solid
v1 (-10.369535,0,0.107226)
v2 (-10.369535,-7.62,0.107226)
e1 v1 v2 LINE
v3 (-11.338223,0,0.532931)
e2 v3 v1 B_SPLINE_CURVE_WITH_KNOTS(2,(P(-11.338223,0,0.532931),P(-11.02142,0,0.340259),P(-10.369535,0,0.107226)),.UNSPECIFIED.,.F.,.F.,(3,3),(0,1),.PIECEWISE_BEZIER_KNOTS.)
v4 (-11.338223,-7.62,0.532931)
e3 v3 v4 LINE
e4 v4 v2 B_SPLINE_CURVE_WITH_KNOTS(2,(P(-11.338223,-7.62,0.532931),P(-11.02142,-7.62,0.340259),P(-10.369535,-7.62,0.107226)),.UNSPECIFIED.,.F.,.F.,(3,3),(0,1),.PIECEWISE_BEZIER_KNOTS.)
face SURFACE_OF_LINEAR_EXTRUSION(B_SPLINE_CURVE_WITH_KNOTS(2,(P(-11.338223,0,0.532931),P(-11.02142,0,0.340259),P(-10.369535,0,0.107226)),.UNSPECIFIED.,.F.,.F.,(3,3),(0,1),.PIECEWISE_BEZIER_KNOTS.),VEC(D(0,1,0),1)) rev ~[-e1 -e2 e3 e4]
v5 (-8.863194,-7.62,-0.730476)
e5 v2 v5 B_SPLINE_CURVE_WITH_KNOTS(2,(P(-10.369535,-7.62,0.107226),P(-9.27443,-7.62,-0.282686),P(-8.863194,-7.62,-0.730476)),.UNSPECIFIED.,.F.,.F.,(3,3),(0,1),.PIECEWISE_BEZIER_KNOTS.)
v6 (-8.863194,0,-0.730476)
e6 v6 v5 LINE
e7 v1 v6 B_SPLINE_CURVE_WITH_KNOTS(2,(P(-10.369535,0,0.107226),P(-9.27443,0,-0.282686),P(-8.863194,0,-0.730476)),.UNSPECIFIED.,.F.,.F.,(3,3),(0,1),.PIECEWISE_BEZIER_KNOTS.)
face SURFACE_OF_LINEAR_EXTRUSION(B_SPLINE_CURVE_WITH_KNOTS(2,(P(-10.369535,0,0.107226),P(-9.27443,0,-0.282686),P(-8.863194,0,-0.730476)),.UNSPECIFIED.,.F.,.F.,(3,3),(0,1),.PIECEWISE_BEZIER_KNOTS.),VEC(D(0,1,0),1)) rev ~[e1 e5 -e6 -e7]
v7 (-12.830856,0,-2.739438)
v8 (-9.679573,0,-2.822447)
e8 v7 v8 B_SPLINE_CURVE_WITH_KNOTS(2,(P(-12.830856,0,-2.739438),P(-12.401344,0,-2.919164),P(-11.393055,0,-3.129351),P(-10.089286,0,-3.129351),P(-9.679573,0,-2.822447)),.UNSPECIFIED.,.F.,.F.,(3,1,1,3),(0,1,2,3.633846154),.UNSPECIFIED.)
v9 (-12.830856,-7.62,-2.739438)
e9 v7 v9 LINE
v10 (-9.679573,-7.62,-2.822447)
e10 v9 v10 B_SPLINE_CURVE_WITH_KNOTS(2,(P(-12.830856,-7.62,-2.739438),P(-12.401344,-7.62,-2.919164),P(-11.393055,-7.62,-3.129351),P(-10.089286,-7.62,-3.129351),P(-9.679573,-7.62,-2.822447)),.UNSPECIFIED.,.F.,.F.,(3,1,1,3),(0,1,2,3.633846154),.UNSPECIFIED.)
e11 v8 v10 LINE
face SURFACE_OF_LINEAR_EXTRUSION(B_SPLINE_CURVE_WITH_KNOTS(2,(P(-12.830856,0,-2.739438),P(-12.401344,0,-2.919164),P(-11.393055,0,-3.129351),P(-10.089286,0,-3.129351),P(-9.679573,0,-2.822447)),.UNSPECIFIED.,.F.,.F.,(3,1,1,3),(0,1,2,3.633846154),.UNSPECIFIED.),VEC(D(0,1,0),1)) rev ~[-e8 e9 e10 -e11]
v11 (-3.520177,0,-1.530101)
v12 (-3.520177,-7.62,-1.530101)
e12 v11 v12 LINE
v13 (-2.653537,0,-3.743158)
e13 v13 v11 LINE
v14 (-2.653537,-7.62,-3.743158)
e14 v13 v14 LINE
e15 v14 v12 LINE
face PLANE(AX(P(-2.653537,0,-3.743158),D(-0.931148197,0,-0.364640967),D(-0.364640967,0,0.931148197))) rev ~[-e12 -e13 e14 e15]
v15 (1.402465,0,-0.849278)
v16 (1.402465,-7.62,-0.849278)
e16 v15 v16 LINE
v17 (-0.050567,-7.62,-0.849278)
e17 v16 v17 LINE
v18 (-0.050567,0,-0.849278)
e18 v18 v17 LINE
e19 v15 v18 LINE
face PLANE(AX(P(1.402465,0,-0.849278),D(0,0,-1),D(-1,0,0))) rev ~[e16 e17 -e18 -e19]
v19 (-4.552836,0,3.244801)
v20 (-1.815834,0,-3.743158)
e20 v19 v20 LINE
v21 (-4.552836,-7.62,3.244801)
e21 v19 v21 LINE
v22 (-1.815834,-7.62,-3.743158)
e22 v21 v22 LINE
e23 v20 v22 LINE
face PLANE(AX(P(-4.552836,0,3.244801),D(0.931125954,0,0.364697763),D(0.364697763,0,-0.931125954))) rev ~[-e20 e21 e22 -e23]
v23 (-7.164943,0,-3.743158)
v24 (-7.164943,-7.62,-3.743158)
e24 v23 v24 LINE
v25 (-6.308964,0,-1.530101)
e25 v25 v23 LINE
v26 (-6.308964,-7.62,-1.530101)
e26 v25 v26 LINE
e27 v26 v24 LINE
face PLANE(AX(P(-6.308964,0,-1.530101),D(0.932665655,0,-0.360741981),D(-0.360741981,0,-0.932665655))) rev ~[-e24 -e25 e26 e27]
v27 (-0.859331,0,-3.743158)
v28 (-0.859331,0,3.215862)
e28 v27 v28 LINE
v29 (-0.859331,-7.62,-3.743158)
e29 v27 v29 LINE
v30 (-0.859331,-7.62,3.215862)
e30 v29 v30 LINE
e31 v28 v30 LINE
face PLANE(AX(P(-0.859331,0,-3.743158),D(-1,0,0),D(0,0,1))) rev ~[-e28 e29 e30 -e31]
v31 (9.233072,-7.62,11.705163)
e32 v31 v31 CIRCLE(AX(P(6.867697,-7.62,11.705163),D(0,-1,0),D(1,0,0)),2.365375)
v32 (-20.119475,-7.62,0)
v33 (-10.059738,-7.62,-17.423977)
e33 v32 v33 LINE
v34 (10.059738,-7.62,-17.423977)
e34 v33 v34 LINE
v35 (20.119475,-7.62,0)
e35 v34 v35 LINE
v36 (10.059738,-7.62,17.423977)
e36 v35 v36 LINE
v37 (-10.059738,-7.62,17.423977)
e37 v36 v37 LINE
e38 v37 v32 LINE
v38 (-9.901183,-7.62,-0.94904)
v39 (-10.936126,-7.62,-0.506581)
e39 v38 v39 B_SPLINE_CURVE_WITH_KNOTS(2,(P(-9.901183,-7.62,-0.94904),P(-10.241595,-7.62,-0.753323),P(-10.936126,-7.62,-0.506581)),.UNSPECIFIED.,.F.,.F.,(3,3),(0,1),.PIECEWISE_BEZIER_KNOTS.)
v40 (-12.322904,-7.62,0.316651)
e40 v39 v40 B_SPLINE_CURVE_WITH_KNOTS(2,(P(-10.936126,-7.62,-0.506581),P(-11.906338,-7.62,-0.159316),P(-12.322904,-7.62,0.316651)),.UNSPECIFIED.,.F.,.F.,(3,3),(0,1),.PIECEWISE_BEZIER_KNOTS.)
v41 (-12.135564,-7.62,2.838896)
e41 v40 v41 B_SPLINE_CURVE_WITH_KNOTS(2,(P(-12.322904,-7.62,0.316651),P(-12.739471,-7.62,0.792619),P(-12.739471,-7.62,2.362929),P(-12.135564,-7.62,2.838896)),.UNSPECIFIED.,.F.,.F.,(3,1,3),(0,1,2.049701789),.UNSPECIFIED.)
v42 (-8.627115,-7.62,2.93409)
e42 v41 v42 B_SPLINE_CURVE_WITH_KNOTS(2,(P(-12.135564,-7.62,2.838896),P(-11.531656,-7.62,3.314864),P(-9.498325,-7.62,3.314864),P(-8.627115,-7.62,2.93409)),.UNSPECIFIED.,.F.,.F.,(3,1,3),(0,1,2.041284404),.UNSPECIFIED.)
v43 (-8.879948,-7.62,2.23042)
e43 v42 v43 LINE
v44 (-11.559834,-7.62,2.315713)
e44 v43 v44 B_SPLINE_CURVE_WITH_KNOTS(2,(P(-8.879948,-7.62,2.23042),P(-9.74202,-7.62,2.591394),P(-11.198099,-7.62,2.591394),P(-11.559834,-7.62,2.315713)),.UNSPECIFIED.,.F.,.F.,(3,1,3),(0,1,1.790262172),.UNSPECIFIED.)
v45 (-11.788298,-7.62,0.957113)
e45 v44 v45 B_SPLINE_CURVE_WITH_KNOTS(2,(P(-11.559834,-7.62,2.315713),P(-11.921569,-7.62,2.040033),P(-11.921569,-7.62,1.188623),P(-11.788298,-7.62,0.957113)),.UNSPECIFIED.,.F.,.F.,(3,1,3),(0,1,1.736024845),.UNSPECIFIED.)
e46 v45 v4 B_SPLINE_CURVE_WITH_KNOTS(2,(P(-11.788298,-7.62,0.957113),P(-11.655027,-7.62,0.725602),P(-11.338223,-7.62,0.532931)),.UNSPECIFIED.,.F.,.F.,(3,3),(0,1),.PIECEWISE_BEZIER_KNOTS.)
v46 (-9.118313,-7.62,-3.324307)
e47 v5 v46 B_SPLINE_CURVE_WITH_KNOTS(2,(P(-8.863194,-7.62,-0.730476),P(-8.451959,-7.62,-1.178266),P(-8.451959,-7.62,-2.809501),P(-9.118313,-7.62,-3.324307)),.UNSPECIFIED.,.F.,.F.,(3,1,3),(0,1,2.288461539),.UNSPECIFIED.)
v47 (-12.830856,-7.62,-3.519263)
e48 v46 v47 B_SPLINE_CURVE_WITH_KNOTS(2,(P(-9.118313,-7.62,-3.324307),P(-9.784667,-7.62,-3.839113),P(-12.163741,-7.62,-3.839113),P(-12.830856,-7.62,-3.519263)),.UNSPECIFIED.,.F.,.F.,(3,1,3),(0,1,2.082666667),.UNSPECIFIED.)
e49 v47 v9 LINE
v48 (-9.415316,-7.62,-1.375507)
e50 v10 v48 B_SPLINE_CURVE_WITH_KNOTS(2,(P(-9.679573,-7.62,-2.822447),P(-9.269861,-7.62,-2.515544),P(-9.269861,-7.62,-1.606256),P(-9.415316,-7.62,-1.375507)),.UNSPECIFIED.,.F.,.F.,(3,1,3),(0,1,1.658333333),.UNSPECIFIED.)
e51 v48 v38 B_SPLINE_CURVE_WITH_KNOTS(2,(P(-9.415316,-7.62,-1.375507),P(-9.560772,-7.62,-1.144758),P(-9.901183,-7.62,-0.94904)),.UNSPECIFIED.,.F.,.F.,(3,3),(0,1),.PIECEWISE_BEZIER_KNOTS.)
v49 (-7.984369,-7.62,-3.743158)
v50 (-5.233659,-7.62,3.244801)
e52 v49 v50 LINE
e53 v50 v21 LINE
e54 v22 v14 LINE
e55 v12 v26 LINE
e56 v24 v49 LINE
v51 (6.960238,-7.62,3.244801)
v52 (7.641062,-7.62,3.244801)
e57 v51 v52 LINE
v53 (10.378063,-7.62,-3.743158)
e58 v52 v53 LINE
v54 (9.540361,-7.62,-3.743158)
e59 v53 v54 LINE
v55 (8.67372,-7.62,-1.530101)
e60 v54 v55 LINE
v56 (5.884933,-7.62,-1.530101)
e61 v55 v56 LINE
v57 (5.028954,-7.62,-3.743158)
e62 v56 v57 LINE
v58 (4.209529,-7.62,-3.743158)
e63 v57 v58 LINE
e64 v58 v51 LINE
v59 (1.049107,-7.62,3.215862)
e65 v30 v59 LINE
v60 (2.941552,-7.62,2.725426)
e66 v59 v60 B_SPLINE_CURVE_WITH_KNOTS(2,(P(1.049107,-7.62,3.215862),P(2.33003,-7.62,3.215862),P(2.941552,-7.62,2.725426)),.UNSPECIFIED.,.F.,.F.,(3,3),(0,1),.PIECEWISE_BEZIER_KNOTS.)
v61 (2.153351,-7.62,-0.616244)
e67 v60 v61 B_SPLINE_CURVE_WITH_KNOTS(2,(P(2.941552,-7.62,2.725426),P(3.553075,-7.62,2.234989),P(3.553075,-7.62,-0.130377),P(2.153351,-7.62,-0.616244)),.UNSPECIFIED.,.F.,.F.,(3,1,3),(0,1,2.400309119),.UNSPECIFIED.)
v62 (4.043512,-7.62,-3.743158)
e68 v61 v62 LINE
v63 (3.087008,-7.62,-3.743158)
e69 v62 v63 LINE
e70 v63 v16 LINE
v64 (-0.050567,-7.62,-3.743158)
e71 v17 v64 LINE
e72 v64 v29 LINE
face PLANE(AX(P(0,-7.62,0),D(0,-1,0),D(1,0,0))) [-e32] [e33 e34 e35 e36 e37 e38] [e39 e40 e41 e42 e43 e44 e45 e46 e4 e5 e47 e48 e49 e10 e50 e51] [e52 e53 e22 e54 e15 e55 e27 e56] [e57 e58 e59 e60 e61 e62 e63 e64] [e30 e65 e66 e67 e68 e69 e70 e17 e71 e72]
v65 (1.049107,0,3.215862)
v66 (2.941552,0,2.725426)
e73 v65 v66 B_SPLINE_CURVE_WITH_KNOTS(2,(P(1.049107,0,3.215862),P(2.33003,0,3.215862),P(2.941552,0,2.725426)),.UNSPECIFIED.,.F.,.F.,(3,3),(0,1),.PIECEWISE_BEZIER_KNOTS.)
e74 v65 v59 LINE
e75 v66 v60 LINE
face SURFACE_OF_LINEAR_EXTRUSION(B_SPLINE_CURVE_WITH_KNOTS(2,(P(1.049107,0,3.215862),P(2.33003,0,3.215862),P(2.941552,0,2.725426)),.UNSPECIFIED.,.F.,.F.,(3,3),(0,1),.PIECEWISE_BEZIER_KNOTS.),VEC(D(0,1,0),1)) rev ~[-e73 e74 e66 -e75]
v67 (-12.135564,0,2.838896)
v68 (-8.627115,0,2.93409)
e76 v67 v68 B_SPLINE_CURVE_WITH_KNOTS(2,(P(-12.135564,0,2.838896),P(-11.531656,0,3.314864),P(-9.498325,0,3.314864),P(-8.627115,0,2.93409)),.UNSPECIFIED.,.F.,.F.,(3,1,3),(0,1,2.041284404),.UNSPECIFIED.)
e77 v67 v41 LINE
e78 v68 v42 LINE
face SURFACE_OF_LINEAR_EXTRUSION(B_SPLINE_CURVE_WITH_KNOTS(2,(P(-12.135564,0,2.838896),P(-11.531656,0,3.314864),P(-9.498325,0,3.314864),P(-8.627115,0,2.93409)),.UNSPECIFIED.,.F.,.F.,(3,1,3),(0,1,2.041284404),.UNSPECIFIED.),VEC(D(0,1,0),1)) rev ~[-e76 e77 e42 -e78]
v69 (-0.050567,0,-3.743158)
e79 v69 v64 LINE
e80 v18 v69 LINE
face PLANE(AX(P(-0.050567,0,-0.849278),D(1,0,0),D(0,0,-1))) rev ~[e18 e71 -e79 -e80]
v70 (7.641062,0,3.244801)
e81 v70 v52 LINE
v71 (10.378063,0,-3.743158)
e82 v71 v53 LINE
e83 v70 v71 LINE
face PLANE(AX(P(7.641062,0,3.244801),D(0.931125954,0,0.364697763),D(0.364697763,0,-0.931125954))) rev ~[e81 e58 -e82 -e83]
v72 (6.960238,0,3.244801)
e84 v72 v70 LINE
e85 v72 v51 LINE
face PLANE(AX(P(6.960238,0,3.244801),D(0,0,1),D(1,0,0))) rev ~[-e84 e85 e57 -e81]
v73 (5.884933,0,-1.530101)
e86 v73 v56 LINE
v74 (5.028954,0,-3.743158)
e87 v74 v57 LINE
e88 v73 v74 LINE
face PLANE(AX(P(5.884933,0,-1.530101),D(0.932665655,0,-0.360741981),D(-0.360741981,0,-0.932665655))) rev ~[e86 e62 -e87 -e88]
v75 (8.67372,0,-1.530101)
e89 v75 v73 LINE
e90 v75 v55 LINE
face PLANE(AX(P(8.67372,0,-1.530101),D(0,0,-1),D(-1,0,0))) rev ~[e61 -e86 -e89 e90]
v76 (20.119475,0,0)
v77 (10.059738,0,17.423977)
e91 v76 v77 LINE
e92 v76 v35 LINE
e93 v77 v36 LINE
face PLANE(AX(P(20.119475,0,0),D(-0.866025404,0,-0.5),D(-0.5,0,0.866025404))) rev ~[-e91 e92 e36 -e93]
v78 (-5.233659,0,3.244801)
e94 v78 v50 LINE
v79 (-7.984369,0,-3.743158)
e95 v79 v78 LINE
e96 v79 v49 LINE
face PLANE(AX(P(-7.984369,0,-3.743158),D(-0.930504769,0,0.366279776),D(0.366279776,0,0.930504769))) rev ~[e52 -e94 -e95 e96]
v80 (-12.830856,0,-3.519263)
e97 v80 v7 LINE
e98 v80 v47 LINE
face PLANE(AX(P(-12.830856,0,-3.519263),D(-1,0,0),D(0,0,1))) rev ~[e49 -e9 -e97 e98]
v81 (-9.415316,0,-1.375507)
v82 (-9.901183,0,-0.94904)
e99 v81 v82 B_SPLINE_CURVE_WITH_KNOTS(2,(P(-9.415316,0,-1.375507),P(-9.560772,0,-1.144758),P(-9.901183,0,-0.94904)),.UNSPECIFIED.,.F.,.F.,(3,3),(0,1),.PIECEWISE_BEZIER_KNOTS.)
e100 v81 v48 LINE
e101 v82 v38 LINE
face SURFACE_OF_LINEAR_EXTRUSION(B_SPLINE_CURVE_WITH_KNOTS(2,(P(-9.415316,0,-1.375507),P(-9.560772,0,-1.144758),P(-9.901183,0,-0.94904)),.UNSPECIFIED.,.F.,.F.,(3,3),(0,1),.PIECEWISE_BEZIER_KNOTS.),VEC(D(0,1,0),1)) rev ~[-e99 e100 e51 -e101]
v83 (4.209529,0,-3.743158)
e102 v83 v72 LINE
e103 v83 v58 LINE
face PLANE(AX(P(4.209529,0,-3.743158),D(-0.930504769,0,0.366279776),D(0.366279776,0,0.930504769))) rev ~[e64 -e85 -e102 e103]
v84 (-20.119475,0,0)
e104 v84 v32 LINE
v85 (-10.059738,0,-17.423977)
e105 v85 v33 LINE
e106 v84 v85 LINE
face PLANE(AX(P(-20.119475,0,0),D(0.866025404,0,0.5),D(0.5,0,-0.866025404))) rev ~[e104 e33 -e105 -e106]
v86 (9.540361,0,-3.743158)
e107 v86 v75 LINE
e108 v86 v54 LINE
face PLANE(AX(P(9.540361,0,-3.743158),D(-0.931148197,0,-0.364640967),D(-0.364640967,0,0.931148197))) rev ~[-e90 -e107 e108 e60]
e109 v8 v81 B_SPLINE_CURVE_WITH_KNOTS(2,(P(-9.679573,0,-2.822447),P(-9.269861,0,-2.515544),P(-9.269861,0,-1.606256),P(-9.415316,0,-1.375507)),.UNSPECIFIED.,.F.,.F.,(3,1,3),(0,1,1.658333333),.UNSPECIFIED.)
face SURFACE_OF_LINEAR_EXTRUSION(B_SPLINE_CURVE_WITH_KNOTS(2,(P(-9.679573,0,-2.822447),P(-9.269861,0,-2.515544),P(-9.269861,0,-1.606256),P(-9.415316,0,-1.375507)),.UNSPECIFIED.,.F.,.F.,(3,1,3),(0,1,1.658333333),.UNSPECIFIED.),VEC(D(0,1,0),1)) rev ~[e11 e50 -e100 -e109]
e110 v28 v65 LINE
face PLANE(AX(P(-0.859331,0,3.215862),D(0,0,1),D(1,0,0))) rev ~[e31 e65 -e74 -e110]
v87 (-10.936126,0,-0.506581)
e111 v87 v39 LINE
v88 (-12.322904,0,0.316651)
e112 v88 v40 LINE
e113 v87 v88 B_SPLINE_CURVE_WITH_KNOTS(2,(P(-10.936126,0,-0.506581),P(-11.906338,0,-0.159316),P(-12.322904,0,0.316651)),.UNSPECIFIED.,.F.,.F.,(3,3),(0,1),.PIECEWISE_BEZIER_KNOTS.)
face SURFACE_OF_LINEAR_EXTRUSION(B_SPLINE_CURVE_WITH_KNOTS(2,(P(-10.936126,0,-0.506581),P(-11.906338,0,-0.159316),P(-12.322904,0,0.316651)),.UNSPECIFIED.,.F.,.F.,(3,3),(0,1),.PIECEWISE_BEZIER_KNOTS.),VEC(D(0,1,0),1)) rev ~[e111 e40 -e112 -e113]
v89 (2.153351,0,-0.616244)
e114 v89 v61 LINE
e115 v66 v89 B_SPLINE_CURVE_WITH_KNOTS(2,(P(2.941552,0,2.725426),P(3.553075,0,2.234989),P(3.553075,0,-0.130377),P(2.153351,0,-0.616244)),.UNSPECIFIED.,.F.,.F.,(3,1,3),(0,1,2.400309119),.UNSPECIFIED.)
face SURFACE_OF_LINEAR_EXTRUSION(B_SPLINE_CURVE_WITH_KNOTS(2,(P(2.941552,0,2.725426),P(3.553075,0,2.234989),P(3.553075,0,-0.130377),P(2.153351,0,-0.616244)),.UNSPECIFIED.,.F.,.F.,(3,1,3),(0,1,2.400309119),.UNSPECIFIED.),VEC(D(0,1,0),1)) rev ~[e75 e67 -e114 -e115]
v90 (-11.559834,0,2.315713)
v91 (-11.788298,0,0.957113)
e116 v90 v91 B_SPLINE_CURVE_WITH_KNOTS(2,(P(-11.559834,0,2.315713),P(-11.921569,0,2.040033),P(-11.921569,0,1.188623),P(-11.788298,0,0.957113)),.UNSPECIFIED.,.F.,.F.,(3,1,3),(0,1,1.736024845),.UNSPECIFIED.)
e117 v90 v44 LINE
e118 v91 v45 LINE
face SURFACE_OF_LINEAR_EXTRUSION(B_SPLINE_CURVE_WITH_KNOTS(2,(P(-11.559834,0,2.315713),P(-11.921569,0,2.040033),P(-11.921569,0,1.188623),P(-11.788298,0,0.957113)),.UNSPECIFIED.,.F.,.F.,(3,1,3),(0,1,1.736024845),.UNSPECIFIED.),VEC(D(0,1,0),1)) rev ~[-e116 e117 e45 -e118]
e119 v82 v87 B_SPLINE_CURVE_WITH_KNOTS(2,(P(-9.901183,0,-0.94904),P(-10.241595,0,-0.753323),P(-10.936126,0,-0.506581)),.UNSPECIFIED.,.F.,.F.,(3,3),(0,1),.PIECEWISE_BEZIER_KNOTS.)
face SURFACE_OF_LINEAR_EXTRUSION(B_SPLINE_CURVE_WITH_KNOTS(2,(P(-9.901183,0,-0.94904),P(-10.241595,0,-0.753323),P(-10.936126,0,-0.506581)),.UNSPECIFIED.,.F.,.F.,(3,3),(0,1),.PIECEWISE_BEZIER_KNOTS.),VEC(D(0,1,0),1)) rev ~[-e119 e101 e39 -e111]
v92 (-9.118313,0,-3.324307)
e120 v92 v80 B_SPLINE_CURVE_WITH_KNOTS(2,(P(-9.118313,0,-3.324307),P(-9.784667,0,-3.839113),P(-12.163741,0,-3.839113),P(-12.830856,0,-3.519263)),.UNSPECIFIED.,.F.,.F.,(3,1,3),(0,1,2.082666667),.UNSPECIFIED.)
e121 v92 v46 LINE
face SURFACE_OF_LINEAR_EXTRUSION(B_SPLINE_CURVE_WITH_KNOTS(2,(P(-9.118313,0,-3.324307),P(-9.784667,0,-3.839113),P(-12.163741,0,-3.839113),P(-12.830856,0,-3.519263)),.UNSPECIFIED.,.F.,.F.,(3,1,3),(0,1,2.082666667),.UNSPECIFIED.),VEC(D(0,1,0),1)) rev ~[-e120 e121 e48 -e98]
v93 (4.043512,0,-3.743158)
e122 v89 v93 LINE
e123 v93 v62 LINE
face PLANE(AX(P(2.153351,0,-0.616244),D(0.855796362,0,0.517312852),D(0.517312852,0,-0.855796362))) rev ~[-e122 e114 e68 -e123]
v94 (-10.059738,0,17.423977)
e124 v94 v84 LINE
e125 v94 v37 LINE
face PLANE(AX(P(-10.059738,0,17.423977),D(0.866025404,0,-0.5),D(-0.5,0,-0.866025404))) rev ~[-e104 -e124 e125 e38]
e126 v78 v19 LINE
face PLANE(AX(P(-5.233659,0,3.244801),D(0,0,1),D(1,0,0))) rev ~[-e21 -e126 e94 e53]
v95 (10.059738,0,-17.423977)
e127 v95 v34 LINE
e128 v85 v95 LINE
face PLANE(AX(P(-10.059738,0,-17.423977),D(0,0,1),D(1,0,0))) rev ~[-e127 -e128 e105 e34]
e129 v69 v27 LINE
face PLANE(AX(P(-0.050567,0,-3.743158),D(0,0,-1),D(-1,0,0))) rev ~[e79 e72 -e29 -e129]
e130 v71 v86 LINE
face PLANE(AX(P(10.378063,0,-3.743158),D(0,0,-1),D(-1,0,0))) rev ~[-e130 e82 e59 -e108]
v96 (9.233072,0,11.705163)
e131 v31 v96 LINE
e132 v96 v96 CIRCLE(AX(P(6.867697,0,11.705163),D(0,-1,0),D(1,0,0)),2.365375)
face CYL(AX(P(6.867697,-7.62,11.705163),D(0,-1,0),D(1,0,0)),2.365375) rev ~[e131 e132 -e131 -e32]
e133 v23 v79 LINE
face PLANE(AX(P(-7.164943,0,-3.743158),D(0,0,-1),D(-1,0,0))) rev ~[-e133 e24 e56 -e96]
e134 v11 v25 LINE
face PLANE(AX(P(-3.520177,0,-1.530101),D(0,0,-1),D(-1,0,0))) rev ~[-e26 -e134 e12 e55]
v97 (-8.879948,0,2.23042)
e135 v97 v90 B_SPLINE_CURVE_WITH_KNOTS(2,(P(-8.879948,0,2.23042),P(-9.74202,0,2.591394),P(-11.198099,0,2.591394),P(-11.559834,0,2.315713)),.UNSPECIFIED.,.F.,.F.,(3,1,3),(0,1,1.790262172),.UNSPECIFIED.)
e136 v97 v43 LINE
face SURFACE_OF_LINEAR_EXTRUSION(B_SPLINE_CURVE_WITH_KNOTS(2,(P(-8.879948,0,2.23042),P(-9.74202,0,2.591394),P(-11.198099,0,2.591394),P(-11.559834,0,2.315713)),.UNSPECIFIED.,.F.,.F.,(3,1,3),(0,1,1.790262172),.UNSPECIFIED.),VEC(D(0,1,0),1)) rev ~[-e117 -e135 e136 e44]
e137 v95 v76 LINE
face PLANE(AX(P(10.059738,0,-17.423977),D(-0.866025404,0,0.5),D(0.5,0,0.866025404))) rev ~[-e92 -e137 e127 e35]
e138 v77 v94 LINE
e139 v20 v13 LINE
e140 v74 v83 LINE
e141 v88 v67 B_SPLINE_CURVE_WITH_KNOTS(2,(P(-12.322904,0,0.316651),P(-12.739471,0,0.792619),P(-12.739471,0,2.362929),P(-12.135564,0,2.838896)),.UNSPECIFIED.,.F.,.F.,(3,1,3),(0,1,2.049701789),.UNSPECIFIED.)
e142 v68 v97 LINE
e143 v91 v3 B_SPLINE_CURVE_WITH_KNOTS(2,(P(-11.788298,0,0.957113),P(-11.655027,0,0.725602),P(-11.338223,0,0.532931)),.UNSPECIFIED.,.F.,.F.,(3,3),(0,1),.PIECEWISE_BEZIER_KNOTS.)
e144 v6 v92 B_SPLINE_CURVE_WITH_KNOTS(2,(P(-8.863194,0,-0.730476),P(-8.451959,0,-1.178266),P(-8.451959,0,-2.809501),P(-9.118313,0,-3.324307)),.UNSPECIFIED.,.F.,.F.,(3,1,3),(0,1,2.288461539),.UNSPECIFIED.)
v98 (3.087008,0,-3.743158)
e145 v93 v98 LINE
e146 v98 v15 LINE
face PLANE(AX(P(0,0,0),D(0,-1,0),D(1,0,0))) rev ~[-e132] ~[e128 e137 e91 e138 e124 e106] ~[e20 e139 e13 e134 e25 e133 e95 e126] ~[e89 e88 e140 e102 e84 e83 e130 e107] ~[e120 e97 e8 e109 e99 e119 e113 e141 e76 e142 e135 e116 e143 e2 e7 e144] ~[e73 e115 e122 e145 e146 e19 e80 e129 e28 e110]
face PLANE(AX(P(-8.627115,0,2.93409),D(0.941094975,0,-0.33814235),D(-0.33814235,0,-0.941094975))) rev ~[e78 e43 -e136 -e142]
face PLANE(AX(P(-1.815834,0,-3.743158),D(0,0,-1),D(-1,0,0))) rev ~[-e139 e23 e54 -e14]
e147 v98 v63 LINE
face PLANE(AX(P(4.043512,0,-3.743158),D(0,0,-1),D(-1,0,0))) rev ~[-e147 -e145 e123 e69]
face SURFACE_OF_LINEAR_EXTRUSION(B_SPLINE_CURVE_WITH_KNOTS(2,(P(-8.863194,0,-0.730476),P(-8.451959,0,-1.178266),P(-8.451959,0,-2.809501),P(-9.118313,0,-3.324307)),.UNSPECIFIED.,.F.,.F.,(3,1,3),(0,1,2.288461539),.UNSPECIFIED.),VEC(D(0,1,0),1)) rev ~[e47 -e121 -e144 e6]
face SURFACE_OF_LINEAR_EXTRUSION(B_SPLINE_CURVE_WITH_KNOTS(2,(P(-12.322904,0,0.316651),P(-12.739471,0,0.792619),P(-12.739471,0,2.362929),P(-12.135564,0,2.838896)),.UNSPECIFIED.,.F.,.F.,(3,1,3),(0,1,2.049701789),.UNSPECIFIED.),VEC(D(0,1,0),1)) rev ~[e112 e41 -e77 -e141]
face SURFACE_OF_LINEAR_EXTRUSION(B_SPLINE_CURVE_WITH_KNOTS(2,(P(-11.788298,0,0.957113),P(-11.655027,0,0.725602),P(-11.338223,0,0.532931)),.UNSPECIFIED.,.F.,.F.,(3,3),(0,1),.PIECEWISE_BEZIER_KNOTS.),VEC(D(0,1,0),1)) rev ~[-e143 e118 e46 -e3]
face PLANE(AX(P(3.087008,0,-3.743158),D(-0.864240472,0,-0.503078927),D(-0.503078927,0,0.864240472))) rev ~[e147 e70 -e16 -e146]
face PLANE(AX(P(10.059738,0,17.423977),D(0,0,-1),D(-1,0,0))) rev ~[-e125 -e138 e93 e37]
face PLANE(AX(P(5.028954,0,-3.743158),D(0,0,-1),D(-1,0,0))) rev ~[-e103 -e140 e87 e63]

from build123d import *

# Parameters (mm, degrees)
F1_DEPTH = 7.62
F2_R     = 2.365375
F3_DEPTH = 25.4


with BuildPart() as f1:
    # F0 (on Front) → F1 (new body)
    with BuildSketch(Plane.XZ):
        Polygon((10.0597376004, 17.4239766347), (-10.0597376004, 17.4239766347), (-20.1194752008, 0), (-10.0597376004, -17.4239766347), (10.0597376004, -17.4239766347), (20.1194752008, 0), align=None)
        with BuildLine():
            add(Edge.make_bspline(
                [(-8.8631942381, -0.7304763376), (-8.451958628, -1.1782662241), (-8.451958628, -1.8910746148)],
                knots=[0, 0, 0, 1, 1, 1], degree=2))
            add(Edge.make_bspline(
                [(-8.451958628, -1.8910746148), (-8.451958628, -2.8095008106), (-9.1183126258, -3.3243068706)],
                knots=[0, 0, 0, 1, 1, 1], degree=2))
            add(Edge.make_bspline(
                [(-9.1183126258, -3.3243068706), (-9.7846666235, -3.8391129306), (-10.9269877626, -3.8391129306)],
                knots=[0, 0, 0, 1, 1, 1], degree=2))
            add(Edge.make_bspline(
                [(-10.9269877626, -3.8391129306), (-12.1637407824, -3.8391129306), (-12.8308563276, -3.5192630116)],
                knots=[0, 0, 0, 1, 1, 1], degree=2))
            Line((-12.8308563276, -3.5192630116), (-12.8308563276, -2.7394384474))
            add(Edge.make_bspline(
                [(-12.8308563276, -2.7394384474), (-12.4013435793, -2.9191636399), (-11.8971991833, -3.0242571847)],
                knots=[0, 0, 0, 1, 1, 1], degree=2))
            add(Edge.make_bspline(
                [(-11.8971991833, -3.0242571847), (-11.3930547873, -3.1293507295), (-10.8980489604, -3.1293507295)],
                knots=[0, 0, 0, 1, 1, 1], degree=2))
            add(Edge.make_bspline(
                [(-10.8980489604, -3.1293507295), (-10.0892855939, -3.1293507295), (-9.6795730788, -2.8224471168)],
                knots=[0, 0, 0, 1, 1, 1], degree=2))
            add(Edge.make_bspline(
                [(-9.6795730788, -2.8224471168), (-9.2698605636, -2.5155435042), (-9.2698605636, -1.9672293574)],
                knots=[0, 0, 0, 1, 1, 1], degree=2))
            add(Edge.make_bspline(
                [(-9.2698605636, -1.9672293574), (-9.2698605636, -1.6062558775), (-9.4153161219, -1.3755070074)],
                knots=[0, 0, 0, 1, 1, 1], degree=2))
            add(Edge.make_bspline(
                [(-9.4153161219, -1.3755070074), (-9.5607716803, -1.1447581373), (-9.9011833797, -0.9490404489)],
                knots=[0, 0, 0, 1, 1, 1], degree=2))
            add(Edge.make_bspline(
                [(-9.9011833797, -0.9490404489), (-10.2415950792, -0.7533227604), (-10.9361263317, -0.5065813943)],
                knots=[0, 0, 0, 1, 1, 1], degree=2))
            add(Edge.make_bspline(
                [(-10.9361263317, -0.5065813943), (-11.9063377524, -0.1593157681), (-12.3229041944, 0.3166513732)],
                knots=[0, 0, 0, 1, 1, 1], degree=2))
            add(Edge.make_bspline(
                [(-12.3229041944, 0.3166513732), (-12.7394706365, 0.7926185144), (-12.7394706365, 1.558735225)],
                knots=[0, 0, 0, 1, 1, 1], degree=2))
            add(Edge.make_bspline(
                [(-12.7394706365, 1.558735225), (-12.7394706365, 2.3629293069), (-12.1355635276, 2.8388964481)],
                knots=[0, 0, 0, 1, 1, 1], degree=2))
            add(Edge.make_bspline(
                [(-12.1355635276, 2.8388964481), (-11.5316564188, 3.3148635894), (-10.5355523856, 3.3148635894)],
                knots=[0, 0, 0, 1, 1, 1], degree=2))
            add(Edge.make_bspline(
                [(-10.5355523856, 3.3148635894), (-9.4983247914, 3.3148635894), (-8.627114536, 2.9340898764)],
                knots=[0, 0, 0, 1, 1, 1], degree=2))
            Line((-8.627114536, 2.9340898764), (-8.8799482814, 2.2304200547))
            add(Edge.make_bspline(
                [(-8.8799482814, 2.2304200547), (-9.7420199677, 2.5913935347), (-10.5553526187, 2.5913935347)],
                knots=[0, 0, 0, 1, 1, 1], degree=2))
            add(Edge.make_bspline(
                [(-10.5553526187, 2.5913935347), (-11.1980986462, 2.5913935347), (-11.5598336736, 2.3157133664)],
                knots=[0, 0, 0, 1, 1, 1], degree=2))
            add(Edge.make_bspline(
                [(-11.5598336736, 2.3157133664), (-11.9215687009, 2.0400331982), (-11.9215687009, 1.5495966559)],
                knots=[0, 0, 0, 1, 1, 1], degree=2))
            add(Edge.make_bspline(
                [(-11.9215687009, 1.5495966559), (-11.9215687009, 1.1886231759), (-11.7882979014, 0.9571127584)],
                knots=[0, 0, 0, 1, 1, 1], degree=2))
            add(Edge.make_bspline(
                [(-11.7882979014, 0.9571127584), (-11.6550271018, 0.7256023409), (-11.3382233726, 0.5329308422)],
                knots=[0, 0, 0, 1, 1, 1], degree=2))
            add(Edge.make_bspline(
                [(-11.3382233726, 0.5329308422), (-11.0214196434, 0.3402593434), (-10.3695350467, 0.107225831)],
                knots=[0, 0, 0, 1, 1, 1], degree=2))
            add(Edge.make_bspline(
                [(-10.3695350467, 0.107225831), (-9.2744298481, -0.2826864511), (-8.8631942381, -0.7304763376)],
                knots=[0, 0, 0, 1, 1, 1], degree=2))
        make_face(mode=Mode.SUBTRACT)
        Polygon((-1.8158343578, -3.7431579549), (-2.6535365264, -3.7431579549), (-3.5201774972, -1.5301011349), (-6.3089641712, -1.5301011349), (-7.1649434781, -3.7431579549), (-7.9843685085, -3.7431579549), (-5.2336592057, 3.2448012262), (-4.5528358069, 3.2448012262), align=None, mode=Mode.SUBTRACT)
        with BuildLine():
            Line((1.4024650645, -0.8492777361), (-0.0505674243, -0.8492777361))
            Line((-0.0505674243, -0.8492777361), (-0.0505674243, -3.7431579549))
            Line((-0.0505674243, -3.7431579549), (-0.8593307907, -3.7431579549))
            Line((-0.8593307907, -3.7431579549), (-0.8593307907, 3.215862424))
            Line((-0.8593307907, 3.215862424), (1.0491070589, 3.215862424))
            add(Edge.make_bspline(
                [(1.0491070589, 3.215862424), (2.3300298294, 3.215862424), (2.9415524125, 2.7254258816)],
                knots=[0, 0, 0, 1, 1, 1], degree=2))
            add(Edge.make_bspline(
                [(2.9415524125, 2.7254258816), (3.5530749956, 2.2349893393), (3.5530749956, 1.24954697)],
                knots=[0, 0, 0, 1, 1, 1], degree=2))
            add(Edge.make_bspline(
                [(3.5530749956, 1.24954697), (3.5530749956, -0.1303769659), (2.1533508266, -0.6162442237)],
                knots=[0, 0, 0, 1, 1, 1], degree=2))
            Line((2.1533508266, -0.6162442237), (4.0435115379, -3.7431579549))
            Line((4.0435115379, -3.7431579549), (3.0870079709, -3.7431579549))
            Line((3.0870079709, -3.7431579549), (1.4024650645, -0.8492777361))
        make_face(mode=Mode.SUBTRACT)
        Polygon((10.3780630275, -3.7431579549), (9.5403608589, -3.7431579549), (8.6737198881, -1.5301011349), (5.884933214, -1.5301011349), (5.0289539072, -3.7431579549), (4.2095288768, -3.7431579549), (6.9602381795, 3.2448012262), (7.6410615784, 3.2448012262), align=None, mode=Mode.SUBTRACT)
    extrude(amount=F1_DEPTH)

    # F2 (on face) → F3 (cut)
    with BuildSketch(Plane.XZ.offset(7.62)):
        with Locations((6.8676967915, 11.7051630221)):
            Circle(F2_R)
    extrude(amount=-F3_DEPTH, mode=Mode.SUBTRACT)


solid = f1.part
